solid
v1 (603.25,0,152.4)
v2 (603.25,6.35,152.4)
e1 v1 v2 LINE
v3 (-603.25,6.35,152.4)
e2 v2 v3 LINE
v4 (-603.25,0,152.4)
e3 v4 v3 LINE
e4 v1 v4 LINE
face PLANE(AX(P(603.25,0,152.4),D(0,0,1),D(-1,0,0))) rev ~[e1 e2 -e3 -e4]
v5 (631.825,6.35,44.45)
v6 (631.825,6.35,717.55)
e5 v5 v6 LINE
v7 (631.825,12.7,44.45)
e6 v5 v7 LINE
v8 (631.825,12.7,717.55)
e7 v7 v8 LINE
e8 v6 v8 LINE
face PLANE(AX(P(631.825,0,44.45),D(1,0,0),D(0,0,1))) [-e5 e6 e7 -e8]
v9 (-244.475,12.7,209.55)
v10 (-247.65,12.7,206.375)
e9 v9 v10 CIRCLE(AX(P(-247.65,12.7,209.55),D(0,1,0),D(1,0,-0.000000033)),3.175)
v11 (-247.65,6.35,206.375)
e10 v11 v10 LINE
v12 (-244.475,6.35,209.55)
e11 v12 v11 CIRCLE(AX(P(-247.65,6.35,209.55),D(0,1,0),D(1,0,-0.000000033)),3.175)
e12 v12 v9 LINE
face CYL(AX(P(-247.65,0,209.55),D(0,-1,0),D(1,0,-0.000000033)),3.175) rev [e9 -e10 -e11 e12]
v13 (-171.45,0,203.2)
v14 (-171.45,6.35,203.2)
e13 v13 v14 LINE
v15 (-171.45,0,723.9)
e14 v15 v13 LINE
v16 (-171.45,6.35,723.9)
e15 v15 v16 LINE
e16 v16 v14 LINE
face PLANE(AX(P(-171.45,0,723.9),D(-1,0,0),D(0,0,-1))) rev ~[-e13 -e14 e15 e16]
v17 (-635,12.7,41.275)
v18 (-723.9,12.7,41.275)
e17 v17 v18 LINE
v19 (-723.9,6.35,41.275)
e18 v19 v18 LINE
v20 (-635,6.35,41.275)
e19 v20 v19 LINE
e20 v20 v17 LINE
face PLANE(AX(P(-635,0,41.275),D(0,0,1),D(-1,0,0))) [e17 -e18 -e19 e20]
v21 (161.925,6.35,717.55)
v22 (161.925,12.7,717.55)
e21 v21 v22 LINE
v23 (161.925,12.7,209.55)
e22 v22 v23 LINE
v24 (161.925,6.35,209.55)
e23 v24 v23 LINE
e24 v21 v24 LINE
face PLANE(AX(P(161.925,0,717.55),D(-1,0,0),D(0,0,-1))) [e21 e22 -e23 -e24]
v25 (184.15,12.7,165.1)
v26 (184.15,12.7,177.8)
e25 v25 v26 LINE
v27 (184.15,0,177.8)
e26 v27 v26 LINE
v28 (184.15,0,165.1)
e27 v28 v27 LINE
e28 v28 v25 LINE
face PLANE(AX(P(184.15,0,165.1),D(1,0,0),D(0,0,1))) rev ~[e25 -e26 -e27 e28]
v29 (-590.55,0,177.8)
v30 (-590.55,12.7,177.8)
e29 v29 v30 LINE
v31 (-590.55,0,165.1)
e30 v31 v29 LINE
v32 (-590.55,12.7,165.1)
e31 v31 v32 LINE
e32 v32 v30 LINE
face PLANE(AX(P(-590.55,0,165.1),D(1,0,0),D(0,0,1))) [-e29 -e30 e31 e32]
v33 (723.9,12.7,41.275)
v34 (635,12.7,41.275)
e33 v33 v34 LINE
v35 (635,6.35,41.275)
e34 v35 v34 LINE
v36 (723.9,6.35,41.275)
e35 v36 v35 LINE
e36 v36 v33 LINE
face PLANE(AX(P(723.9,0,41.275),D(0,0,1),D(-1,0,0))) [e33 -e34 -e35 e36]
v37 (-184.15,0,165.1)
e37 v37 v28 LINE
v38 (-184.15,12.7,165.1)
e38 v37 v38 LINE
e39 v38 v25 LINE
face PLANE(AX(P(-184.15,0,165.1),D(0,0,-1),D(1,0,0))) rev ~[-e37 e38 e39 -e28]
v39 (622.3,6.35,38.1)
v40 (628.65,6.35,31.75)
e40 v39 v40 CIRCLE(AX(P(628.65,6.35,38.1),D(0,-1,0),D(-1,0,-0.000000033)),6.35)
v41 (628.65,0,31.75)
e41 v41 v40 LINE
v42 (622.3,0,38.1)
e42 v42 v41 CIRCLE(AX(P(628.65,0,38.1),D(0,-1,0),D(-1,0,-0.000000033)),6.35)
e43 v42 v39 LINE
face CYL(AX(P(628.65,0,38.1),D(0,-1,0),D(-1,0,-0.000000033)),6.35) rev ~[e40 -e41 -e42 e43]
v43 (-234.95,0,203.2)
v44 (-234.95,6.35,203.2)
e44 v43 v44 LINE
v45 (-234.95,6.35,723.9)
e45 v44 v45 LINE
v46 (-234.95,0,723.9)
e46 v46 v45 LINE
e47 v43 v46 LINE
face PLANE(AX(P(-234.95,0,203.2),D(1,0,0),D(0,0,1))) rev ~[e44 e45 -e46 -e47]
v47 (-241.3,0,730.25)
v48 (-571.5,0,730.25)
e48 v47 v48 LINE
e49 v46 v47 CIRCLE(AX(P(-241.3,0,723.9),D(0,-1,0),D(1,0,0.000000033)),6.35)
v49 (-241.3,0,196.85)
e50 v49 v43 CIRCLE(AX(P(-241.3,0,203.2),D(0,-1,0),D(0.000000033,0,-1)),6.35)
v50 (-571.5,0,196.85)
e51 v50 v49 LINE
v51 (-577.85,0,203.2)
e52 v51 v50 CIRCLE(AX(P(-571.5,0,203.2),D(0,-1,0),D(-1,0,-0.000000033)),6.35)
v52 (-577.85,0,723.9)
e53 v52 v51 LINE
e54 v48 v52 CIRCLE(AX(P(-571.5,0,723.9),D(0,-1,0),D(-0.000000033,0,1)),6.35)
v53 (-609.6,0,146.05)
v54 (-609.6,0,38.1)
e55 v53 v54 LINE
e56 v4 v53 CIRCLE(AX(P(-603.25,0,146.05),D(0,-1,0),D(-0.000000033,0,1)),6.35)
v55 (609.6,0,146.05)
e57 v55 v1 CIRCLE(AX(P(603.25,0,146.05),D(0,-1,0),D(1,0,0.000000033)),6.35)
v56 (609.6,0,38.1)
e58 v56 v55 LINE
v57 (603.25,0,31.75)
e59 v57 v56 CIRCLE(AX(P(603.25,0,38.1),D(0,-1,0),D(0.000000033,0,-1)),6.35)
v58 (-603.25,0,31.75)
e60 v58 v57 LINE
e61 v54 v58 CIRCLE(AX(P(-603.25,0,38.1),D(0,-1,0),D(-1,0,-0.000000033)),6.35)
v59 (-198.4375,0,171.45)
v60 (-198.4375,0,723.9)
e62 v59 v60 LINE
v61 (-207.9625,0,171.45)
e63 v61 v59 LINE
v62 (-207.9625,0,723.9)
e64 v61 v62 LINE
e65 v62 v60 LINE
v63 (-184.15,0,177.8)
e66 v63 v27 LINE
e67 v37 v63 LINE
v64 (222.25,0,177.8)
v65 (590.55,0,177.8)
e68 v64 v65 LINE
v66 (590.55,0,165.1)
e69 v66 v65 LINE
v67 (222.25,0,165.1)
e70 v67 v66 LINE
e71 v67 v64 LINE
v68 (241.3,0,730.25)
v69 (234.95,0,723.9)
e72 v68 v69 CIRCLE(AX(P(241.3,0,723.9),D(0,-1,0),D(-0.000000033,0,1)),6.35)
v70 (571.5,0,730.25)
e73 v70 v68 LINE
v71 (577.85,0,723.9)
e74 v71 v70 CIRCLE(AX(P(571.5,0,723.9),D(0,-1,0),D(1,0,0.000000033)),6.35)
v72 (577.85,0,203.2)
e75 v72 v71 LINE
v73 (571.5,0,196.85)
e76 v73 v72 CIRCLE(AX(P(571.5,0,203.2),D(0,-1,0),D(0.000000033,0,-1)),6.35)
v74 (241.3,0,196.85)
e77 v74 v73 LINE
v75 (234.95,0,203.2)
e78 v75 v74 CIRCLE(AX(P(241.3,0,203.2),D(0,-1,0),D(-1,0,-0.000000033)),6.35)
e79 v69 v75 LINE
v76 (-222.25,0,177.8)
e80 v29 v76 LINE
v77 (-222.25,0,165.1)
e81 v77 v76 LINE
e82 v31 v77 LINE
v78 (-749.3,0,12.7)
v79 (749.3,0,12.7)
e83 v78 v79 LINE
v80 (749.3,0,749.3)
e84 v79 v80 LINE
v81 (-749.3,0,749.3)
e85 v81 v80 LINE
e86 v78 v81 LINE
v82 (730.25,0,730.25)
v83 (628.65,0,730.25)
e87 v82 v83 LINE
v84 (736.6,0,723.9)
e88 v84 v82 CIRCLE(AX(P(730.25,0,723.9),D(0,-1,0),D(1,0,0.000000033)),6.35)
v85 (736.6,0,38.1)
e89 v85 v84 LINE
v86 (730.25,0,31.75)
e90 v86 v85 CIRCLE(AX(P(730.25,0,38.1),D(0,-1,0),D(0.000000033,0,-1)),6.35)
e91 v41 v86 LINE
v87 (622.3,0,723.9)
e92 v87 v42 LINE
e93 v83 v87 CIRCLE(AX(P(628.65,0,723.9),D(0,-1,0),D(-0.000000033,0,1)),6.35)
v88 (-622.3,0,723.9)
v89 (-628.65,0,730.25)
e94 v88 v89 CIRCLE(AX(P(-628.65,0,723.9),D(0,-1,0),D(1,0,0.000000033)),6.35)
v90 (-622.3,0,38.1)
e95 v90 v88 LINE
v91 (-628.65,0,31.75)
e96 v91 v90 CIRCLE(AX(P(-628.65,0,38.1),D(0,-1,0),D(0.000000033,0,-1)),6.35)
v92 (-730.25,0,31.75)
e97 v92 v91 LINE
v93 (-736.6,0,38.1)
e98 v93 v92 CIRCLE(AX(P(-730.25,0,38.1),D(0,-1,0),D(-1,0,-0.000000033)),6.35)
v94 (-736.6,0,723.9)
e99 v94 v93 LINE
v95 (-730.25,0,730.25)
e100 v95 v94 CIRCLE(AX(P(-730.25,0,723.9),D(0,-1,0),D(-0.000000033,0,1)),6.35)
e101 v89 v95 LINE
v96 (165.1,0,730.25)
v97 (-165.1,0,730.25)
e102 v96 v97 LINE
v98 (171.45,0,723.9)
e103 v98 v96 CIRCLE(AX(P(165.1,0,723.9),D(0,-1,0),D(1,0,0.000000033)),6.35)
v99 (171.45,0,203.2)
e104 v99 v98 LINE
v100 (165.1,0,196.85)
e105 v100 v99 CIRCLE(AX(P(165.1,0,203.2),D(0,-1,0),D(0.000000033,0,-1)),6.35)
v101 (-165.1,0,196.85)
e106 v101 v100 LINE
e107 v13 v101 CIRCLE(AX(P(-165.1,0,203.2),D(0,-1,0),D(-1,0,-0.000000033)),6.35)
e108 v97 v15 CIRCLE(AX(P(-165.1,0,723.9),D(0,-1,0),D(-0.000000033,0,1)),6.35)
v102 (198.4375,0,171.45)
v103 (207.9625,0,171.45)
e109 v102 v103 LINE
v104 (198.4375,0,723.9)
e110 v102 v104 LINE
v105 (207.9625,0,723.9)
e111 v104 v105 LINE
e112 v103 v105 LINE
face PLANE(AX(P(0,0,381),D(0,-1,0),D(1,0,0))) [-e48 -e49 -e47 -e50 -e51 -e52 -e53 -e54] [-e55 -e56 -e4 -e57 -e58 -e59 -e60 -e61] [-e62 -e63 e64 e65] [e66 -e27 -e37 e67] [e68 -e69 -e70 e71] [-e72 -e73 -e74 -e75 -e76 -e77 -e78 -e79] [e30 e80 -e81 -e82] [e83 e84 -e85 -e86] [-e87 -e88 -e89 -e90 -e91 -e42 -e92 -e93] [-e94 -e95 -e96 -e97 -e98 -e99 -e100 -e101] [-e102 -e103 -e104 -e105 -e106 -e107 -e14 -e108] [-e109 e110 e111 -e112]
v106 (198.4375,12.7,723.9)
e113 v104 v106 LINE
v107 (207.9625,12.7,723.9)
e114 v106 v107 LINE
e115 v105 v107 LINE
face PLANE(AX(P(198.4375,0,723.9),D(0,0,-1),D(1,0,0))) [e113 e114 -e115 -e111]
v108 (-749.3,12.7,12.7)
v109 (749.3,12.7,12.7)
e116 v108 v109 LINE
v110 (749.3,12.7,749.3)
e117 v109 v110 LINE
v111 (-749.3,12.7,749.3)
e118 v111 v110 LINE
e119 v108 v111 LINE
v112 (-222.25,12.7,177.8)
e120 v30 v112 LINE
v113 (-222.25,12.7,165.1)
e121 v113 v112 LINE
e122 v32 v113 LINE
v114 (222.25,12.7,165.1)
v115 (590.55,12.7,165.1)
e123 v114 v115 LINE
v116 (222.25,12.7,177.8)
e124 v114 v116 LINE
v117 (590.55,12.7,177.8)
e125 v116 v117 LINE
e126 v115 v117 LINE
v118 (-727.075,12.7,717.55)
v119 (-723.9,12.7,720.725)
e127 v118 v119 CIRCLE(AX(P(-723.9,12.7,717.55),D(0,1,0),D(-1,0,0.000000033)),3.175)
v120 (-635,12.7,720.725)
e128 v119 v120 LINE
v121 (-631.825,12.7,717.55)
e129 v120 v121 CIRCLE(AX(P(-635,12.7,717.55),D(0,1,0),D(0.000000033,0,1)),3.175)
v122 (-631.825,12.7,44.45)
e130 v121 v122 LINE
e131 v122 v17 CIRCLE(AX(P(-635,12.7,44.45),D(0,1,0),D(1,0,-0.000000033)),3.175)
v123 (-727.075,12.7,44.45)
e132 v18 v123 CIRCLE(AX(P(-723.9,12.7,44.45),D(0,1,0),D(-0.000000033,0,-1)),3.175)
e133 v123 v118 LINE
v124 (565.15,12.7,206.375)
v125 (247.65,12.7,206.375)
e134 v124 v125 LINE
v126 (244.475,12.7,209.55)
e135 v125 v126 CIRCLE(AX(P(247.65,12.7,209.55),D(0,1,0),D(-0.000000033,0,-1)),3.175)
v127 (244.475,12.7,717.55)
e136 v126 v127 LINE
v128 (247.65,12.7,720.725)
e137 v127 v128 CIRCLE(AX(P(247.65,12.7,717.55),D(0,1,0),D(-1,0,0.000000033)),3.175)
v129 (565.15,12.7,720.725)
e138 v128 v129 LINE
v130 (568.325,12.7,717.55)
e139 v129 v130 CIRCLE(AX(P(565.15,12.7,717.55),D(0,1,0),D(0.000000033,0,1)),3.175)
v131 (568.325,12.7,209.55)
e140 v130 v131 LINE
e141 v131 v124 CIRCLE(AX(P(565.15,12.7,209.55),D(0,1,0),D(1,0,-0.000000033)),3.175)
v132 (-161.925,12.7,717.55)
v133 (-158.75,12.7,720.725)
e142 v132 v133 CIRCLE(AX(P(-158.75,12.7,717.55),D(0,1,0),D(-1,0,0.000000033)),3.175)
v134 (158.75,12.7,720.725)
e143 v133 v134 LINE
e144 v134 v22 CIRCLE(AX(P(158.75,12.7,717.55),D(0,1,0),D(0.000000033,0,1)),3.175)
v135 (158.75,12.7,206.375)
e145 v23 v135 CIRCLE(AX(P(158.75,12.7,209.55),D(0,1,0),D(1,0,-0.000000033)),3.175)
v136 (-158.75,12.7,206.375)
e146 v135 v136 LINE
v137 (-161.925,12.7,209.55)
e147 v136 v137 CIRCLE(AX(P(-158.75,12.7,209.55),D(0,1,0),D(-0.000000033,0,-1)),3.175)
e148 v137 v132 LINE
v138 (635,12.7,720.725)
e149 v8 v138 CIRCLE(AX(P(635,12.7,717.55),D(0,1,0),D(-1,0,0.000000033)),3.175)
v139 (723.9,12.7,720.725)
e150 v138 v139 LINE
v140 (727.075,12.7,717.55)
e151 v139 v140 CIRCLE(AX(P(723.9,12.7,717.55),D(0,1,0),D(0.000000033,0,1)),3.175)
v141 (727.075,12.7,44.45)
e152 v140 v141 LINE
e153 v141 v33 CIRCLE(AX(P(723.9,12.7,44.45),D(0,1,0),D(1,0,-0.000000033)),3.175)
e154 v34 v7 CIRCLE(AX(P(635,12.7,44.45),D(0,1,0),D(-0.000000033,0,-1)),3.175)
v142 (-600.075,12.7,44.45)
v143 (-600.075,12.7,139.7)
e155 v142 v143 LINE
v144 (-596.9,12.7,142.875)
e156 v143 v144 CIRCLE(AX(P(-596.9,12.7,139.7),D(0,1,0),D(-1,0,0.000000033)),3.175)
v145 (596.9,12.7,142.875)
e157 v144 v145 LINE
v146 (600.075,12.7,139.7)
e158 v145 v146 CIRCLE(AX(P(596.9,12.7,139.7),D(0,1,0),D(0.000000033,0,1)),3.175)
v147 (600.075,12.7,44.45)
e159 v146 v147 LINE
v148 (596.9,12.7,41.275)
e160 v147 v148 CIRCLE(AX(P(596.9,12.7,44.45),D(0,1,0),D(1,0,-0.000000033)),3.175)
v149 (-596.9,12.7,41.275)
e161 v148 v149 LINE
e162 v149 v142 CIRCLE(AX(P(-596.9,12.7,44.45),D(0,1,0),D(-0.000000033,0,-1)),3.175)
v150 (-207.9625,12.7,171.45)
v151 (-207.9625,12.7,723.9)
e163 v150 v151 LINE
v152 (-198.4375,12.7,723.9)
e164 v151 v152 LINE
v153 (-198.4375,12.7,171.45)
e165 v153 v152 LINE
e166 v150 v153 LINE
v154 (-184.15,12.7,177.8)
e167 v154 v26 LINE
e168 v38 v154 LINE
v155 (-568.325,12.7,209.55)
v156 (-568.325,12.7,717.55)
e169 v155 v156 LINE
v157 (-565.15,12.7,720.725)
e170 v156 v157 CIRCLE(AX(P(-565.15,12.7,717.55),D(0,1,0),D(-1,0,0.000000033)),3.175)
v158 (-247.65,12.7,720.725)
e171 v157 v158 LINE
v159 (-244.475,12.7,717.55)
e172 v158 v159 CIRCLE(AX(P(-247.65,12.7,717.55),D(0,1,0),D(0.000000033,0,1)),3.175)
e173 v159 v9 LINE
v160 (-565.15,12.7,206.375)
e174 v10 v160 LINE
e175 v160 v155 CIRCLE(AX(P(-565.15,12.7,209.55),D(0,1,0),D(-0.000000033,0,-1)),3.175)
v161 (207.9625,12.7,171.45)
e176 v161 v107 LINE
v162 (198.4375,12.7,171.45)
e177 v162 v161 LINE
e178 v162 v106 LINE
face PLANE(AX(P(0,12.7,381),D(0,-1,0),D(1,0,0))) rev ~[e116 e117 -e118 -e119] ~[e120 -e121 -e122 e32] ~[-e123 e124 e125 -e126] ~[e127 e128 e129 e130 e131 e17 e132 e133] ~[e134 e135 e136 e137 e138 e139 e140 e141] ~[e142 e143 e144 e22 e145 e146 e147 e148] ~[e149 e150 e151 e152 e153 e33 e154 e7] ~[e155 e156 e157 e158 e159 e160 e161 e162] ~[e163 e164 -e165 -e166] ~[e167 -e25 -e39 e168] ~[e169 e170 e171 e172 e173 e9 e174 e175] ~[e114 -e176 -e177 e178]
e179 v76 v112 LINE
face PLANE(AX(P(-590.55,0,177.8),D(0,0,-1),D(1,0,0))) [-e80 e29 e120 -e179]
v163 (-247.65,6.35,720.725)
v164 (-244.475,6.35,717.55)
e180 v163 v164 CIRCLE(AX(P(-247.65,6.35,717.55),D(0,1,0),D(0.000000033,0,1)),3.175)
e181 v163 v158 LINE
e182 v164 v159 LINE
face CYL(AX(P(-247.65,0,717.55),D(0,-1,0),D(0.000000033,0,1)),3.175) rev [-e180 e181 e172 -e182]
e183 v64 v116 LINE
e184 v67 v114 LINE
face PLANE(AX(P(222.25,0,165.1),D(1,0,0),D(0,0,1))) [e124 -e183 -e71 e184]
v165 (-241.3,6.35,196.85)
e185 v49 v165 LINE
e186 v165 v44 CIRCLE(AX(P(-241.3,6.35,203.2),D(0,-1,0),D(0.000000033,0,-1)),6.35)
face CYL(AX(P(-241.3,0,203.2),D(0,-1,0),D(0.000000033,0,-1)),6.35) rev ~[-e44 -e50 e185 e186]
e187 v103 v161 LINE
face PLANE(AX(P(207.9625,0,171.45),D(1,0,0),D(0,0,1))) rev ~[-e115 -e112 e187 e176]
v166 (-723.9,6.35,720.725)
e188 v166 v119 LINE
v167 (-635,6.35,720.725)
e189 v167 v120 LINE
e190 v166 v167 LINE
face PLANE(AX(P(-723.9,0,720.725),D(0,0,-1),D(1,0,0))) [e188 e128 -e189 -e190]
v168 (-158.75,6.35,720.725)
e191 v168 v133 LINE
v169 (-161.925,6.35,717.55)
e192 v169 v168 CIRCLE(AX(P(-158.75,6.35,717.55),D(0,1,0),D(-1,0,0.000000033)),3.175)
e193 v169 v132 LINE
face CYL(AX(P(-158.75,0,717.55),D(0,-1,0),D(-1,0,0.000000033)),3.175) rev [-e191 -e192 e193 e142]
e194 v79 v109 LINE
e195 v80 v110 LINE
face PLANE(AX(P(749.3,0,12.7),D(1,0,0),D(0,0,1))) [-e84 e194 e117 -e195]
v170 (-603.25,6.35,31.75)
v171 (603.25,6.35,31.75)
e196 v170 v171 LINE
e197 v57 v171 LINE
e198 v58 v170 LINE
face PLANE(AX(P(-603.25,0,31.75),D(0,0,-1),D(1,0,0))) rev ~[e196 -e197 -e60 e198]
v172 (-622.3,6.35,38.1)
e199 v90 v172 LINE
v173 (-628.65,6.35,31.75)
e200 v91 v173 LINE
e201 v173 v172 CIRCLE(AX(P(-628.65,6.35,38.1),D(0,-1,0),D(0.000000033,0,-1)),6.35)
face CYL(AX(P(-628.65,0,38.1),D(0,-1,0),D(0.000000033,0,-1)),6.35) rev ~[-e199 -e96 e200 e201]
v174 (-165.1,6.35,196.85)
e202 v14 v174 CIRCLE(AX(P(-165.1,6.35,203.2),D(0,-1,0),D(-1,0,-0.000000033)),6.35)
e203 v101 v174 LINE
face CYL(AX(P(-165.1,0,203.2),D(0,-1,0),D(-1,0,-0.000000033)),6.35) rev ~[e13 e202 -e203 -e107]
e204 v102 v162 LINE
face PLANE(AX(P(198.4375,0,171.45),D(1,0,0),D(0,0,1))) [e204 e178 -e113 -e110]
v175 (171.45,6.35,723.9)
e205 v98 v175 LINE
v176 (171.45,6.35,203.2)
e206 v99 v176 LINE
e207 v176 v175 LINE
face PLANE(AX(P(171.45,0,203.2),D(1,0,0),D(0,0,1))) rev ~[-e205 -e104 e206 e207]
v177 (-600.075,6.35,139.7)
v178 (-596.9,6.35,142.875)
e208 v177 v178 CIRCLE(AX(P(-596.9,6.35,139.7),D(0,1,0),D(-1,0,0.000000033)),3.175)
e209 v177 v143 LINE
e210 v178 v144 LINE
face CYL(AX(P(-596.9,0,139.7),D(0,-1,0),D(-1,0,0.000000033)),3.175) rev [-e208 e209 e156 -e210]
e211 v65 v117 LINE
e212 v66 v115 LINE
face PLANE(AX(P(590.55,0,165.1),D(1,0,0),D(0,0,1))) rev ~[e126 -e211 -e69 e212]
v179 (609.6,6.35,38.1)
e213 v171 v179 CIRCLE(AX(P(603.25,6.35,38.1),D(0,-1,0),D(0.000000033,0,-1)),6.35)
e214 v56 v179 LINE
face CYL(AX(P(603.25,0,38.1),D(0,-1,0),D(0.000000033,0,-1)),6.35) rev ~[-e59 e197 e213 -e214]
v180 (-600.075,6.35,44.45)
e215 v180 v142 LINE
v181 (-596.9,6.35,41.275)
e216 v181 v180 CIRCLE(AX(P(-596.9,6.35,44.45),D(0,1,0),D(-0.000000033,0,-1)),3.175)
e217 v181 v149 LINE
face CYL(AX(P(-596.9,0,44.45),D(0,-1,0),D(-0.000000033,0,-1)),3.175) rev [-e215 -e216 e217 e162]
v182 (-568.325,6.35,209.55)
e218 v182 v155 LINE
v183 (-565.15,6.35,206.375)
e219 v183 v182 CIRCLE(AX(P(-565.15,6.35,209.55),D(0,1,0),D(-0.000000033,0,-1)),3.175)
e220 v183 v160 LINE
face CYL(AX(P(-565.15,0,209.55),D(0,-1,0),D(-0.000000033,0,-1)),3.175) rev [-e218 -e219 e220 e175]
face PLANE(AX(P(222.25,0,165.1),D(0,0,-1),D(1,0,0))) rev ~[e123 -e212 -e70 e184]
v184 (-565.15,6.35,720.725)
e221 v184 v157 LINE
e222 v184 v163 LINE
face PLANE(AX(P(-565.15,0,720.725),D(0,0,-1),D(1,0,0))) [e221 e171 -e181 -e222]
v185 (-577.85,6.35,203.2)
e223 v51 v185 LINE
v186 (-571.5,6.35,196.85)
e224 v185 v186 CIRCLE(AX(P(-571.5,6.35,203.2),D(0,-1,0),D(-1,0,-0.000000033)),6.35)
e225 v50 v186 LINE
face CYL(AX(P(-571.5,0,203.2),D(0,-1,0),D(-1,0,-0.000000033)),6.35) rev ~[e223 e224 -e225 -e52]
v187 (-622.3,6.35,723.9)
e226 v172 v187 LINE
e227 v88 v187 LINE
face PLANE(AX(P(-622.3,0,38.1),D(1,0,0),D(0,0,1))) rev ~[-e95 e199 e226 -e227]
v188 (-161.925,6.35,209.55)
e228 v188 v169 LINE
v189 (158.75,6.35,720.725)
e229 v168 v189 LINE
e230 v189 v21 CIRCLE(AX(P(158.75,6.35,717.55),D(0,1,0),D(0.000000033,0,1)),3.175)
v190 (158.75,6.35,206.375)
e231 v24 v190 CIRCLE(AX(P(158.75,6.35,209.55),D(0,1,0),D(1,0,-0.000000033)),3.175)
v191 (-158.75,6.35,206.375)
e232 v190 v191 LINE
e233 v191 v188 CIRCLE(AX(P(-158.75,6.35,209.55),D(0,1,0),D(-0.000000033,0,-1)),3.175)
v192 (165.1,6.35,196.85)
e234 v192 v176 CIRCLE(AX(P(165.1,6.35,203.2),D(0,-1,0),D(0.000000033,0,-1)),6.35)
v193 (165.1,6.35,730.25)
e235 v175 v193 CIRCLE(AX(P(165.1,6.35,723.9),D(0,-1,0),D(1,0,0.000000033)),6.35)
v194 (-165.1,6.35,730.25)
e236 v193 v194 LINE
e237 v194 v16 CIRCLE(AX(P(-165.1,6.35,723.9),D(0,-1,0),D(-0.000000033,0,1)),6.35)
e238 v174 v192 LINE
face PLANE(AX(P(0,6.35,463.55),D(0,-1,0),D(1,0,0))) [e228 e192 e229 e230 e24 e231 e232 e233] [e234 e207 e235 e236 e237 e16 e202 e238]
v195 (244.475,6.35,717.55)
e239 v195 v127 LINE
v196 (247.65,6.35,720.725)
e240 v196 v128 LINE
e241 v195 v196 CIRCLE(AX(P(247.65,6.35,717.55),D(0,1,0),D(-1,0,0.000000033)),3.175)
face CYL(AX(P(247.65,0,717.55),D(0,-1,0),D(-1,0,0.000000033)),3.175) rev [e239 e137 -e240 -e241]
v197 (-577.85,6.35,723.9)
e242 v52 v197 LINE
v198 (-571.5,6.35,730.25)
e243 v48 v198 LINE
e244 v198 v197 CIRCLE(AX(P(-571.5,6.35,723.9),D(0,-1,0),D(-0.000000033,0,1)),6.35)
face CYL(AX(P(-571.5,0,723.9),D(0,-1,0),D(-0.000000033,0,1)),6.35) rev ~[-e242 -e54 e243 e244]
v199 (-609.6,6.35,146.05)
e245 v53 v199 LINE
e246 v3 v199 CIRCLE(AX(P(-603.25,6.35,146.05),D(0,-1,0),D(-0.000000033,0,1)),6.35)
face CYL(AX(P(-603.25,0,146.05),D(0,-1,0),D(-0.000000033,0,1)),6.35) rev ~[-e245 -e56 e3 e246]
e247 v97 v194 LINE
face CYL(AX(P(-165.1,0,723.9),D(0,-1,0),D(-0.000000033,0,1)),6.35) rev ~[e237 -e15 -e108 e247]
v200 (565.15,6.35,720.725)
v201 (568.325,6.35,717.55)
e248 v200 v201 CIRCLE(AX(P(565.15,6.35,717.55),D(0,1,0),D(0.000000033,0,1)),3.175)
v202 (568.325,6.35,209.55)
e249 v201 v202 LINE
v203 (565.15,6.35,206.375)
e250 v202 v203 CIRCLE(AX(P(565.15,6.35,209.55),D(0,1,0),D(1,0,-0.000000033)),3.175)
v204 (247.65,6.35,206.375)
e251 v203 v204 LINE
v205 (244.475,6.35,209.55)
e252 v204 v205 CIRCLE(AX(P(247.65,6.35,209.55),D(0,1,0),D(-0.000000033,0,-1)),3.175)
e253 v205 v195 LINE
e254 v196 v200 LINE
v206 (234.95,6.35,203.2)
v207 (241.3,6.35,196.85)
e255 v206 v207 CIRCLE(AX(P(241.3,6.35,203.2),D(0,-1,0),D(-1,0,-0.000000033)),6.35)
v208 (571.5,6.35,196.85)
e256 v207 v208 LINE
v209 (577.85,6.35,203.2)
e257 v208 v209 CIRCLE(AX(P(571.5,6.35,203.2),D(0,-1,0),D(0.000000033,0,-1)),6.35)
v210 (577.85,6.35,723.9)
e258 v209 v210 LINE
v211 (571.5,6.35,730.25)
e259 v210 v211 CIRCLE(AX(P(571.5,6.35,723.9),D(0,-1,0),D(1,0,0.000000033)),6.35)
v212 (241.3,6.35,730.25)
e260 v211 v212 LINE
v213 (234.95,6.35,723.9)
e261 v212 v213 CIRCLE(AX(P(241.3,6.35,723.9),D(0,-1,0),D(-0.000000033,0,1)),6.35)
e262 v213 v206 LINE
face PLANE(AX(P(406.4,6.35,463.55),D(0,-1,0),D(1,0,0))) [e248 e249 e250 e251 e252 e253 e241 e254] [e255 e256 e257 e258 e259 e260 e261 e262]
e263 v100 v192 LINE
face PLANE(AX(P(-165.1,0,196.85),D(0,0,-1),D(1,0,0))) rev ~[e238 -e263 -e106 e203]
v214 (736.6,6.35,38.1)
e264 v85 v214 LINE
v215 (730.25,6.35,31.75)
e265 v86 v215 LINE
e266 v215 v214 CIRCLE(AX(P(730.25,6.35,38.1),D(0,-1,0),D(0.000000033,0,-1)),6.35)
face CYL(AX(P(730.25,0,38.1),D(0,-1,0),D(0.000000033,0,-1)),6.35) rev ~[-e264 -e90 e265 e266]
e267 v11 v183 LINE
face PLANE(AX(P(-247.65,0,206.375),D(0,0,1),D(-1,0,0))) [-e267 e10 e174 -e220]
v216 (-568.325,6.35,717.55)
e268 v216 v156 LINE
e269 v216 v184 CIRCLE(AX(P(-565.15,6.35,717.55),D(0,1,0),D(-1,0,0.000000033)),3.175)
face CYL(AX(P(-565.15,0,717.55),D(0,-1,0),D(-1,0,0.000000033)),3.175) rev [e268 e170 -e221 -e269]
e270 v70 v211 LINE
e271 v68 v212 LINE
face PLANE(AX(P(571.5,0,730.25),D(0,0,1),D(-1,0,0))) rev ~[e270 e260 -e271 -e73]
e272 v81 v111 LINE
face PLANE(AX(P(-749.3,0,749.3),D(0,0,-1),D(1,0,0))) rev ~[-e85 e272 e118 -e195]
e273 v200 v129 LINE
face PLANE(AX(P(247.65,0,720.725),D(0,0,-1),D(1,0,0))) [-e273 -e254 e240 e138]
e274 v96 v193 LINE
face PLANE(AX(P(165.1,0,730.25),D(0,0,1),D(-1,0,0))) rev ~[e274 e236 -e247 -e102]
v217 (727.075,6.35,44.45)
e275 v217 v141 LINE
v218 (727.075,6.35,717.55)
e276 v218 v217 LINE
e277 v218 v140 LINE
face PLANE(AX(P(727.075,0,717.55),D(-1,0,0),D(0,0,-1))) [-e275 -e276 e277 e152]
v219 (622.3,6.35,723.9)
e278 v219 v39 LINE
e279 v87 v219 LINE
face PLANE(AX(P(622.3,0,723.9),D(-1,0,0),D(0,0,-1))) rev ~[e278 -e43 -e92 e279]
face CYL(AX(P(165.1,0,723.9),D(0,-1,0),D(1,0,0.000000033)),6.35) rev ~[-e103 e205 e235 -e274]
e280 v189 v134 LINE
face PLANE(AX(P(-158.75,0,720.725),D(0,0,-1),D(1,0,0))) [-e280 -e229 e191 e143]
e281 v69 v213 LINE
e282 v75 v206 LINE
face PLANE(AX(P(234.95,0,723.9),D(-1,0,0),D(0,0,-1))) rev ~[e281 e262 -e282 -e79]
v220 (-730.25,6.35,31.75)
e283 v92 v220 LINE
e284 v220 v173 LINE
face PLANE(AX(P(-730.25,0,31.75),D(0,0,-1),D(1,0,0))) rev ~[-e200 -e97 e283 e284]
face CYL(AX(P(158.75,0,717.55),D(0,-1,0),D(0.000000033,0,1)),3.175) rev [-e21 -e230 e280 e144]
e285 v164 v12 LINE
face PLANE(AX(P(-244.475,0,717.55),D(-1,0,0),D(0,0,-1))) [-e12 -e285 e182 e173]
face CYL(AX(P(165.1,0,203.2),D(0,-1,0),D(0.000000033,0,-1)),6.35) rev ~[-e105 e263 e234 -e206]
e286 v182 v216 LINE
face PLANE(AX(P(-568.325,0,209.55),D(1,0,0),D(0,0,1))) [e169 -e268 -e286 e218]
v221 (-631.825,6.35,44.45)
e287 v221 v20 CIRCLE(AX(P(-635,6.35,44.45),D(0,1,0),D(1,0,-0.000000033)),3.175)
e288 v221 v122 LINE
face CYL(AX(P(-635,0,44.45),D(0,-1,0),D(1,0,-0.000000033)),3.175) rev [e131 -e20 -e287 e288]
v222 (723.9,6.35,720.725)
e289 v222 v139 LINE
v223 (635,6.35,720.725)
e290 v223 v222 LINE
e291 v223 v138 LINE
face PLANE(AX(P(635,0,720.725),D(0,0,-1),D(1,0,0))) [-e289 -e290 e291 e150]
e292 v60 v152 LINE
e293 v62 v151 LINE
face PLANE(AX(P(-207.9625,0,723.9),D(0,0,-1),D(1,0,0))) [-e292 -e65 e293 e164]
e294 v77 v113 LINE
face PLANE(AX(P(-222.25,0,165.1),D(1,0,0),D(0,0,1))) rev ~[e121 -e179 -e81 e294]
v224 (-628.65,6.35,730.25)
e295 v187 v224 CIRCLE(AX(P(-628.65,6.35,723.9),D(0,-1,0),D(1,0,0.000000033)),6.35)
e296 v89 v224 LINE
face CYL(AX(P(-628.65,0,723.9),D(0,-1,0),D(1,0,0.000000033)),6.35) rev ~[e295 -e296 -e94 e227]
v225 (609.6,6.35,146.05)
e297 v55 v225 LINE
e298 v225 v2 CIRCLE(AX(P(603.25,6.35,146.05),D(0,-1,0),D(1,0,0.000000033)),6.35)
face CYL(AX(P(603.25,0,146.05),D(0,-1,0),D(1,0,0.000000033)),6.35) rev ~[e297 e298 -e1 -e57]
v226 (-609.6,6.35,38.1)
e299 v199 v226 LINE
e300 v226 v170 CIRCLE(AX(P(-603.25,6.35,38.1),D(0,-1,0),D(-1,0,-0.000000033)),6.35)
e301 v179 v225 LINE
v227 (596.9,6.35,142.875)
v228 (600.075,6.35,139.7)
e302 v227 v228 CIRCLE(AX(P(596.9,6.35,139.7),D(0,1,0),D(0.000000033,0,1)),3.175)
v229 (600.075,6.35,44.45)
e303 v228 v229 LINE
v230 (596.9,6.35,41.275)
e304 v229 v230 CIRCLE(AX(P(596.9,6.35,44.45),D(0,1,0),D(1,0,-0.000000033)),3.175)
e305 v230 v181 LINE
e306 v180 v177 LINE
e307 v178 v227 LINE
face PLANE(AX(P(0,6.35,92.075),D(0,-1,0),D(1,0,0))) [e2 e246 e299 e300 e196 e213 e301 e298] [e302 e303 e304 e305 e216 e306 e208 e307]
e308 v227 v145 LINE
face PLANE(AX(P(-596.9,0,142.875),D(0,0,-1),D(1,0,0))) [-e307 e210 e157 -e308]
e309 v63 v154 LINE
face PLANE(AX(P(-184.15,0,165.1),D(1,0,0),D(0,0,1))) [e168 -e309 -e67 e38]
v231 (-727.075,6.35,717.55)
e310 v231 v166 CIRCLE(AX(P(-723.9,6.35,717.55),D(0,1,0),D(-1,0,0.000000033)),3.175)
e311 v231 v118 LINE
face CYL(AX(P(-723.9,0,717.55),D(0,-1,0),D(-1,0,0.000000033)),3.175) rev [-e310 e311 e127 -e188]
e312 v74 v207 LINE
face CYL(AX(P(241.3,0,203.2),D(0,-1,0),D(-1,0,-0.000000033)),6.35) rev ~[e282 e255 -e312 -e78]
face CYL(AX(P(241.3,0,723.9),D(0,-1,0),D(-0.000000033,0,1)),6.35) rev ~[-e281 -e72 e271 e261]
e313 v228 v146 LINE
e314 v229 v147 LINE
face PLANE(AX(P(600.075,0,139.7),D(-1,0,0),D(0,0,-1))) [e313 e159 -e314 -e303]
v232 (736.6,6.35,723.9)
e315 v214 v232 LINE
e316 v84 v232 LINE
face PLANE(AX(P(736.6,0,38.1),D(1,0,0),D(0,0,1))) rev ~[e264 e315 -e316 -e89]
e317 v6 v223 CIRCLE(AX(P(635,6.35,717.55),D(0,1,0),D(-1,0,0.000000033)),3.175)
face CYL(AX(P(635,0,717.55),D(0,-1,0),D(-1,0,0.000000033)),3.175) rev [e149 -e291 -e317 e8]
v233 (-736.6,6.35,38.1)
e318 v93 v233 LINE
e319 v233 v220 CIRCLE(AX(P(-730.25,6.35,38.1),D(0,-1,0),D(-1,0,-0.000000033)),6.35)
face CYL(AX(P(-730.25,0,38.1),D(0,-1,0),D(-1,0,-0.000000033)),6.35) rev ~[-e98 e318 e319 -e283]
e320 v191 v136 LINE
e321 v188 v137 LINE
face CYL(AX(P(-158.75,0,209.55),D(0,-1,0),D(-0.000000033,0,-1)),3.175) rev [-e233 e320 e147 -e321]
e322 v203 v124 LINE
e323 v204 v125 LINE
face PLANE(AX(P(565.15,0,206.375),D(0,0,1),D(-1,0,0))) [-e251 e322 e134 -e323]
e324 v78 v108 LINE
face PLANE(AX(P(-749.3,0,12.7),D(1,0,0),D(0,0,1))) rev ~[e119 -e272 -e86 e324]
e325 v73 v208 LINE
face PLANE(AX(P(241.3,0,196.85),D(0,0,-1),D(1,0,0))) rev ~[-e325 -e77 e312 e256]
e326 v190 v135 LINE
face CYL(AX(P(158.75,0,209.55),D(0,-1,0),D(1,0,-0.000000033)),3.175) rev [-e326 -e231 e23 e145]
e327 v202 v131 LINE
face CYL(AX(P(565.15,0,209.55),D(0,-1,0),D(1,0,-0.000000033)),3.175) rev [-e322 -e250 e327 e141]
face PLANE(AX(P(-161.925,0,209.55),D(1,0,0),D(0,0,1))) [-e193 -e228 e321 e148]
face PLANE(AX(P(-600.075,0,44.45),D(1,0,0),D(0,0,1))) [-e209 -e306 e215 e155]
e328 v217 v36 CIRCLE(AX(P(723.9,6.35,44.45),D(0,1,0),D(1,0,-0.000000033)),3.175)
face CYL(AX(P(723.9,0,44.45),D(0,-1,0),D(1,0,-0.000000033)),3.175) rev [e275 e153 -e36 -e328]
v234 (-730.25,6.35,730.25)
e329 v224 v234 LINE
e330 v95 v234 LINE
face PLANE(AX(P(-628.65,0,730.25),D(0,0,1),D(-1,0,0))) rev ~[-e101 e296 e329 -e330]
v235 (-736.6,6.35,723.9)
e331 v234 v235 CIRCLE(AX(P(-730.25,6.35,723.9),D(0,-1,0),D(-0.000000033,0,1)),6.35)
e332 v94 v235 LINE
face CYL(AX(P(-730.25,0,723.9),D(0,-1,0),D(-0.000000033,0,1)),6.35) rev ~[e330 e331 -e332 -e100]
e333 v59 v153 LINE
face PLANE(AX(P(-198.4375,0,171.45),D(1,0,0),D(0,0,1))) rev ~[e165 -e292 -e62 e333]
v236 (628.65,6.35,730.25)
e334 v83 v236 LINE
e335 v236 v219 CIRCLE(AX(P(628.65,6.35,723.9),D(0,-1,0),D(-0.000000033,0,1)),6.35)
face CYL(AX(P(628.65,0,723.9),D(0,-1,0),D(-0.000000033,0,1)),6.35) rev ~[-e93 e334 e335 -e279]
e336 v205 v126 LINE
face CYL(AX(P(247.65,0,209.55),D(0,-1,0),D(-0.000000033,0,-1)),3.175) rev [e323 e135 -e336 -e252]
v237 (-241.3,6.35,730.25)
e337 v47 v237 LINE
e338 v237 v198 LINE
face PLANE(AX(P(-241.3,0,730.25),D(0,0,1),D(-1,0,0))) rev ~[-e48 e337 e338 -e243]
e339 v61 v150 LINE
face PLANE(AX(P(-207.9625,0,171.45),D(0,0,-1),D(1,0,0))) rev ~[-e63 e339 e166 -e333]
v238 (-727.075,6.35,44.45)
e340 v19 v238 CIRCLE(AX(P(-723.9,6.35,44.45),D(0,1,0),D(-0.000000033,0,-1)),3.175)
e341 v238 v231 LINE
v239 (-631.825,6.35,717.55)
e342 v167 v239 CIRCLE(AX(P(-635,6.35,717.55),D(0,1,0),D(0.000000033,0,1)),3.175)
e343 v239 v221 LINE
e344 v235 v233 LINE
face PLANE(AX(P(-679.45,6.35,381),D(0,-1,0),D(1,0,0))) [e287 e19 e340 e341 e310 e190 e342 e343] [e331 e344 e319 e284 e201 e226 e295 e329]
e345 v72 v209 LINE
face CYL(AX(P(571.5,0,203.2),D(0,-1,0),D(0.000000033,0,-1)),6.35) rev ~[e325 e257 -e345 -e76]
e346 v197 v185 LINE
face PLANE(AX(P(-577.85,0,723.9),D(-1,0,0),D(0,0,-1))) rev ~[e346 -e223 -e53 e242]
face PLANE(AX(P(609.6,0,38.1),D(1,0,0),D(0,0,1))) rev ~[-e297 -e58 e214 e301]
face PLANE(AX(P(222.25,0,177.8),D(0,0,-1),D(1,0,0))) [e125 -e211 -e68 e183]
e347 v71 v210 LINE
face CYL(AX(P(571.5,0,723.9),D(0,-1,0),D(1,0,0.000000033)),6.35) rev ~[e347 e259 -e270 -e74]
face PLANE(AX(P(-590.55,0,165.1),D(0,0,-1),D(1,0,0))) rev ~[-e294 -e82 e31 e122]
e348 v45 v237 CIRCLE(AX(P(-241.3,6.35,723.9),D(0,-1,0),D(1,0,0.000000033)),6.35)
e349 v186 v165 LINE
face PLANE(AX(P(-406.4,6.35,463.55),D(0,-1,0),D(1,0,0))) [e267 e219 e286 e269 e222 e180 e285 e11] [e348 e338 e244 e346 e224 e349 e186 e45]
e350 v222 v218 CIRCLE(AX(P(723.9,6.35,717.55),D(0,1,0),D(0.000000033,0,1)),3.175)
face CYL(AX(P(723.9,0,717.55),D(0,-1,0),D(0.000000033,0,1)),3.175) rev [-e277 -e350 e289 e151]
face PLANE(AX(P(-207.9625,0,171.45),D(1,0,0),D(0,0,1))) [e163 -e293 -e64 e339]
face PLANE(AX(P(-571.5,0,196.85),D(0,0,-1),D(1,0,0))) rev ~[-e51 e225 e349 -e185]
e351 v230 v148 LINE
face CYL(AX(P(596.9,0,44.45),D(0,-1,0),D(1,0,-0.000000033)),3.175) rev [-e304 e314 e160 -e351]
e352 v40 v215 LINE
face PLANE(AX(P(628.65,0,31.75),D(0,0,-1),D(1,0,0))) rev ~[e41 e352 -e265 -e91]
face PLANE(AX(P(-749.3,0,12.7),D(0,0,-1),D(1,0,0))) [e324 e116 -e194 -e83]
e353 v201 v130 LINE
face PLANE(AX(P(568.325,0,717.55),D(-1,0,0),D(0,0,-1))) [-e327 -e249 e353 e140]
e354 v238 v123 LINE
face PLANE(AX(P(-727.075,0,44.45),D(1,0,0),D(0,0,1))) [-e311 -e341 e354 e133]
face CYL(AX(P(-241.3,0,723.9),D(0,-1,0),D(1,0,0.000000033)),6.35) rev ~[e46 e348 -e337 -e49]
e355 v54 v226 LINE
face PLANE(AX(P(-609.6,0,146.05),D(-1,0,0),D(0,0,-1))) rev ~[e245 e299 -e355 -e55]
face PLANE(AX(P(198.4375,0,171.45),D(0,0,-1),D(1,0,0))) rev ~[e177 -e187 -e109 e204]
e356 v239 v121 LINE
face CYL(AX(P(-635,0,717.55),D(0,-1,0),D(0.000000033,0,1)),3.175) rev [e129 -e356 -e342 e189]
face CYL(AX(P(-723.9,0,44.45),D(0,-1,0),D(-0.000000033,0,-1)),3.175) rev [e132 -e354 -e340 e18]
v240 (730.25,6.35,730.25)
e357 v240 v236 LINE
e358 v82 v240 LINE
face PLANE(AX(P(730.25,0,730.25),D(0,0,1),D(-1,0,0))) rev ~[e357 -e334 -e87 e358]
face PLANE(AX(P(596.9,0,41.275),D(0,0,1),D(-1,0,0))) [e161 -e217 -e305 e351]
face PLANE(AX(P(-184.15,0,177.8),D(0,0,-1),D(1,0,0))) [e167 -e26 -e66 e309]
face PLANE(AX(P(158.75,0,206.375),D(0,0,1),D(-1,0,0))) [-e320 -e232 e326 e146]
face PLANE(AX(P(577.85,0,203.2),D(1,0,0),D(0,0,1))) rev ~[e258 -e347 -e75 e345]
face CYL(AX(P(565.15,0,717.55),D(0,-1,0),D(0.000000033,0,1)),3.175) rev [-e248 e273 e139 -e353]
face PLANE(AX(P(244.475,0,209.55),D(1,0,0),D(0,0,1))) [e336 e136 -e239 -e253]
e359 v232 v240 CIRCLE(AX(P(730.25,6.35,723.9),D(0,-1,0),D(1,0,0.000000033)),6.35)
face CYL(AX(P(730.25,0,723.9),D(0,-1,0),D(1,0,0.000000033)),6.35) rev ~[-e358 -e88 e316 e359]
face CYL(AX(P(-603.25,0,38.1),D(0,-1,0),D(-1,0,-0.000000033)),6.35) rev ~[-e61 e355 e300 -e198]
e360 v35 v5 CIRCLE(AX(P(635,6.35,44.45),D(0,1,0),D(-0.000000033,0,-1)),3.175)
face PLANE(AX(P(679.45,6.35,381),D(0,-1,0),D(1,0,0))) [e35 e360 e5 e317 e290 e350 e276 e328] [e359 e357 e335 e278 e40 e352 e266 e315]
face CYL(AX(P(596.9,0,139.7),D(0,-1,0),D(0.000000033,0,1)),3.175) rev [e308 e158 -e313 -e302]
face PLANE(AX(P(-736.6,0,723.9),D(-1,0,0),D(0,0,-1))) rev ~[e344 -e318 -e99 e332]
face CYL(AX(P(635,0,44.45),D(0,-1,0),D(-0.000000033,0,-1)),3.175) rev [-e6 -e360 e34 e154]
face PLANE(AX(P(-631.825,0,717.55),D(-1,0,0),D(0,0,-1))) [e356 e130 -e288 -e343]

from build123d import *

# Parameters (mm, degrees)
F0_W     = 1498.6
F0_H     = 736.6
F0_W_2   = 368.3
F0_H_2   = 12.7
F0_W_3   = 9.525
F0_H_3   = 552.45
F1_DEPTH = 12.7
F2_DEPTH = 6.35


with BuildPart() as f1:
    # F0 (on Front) → F1 (new body)
    with BuildSketch(Plane.XZ):
        with Locations((0, 381)):
            Rectangle(F0_W, F0_H)
        with Locations((-406.4, 171.45)):
            Rectangle(F0_W_2, F0_H_2, mode=Mode.SUBTRACT)
        with BuildLine():
            Line((-609.6, 38.1), (-609.6, 146.05))
            ThreePointArc((-609.6, 146.05), (-607.740128, 150.540128), (-603.25, 152.4))
            Line((-603.25, 152.4), (603.25, 152.4))
            ThreePointArc((603.25, 152.4), (607.740128, 150.540128), (609.6, 146.05))
            Line((609.6, 146.05), (609.6, 38.1))
            ThreePointArc((609.6, 38.1), (607.740128, 33.609872), (603.25, 31.75))
            Line((603.25, 31.75), (-603.25, 31.75))
            ThreePointArc((-603.25, 31.75), (-607.740128, 33.609872), (-609.6, 38.1))
        make_face(mode=Mode.SUBTRACT)
        with Locations((0, 171.45)):
            Rectangle(F0_W_2, F0_H_2, mode=Mode.SUBTRACT)
        with Locations((406.4, 171.45)):
            Rectangle(F0_W_2, F0_H_2, mode=Mode.SUBTRACT)
        with BuildLine():
            ThreePointArc((-628.65, 730.25), (-624.159872, 728.390128), (-622.3, 723.9))
            Line((-622.3, 723.9), (-622.3, 38.1))
            ThreePointArc((-622.3, 38.1), (-624.159872, 33.609872), (-628.65, 31.75))
            Line((-628.65, 31.75), (-730.25, 31.75))
            ThreePointArc((-730.25, 31.75), (-734.740128, 33.609872), (-736.6, 38.1))
            Line((-736.6, 38.1), (-736.6, 723.9))
            ThreePointArc((-736.6, 723.9), (-734.740128, 728.390128), (-730.25, 730.25))
            Line((-730.25, 730.25), (-628.65, 730.25))
        make_face(mode=Mode.SUBTRACT)
        with BuildLine():
            Line((-577.85, 203.2), (-577.85, 723.9))
            ThreePointArc((-577.85, 723.9), (-575.990128, 728.390128), (-571.5, 730.25))
            Line((-571.5, 730.25), (-241.3, 730.25))
            ThreePointArc((-241.3, 730.25), (-236.809872, 728.390128), (-234.95, 723.9))
            Line((-234.95, 723.9), (-234.95, 203.2))
            ThreePointArc((-234.95, 203.2), (-236.809872, 198.709872), (-241.3, 196.85))
            Line((-241.3, 196.85), (-571.5, 196.85))
            ThreePointArc((-571.5, 196.85), (-575.990128, 198.709872), (-577.85, 203.2))
        make_face(mode=Mode.SUBTRACT)
        with Locations((-203.2, 447.675)):
            Rectangle(F0_W_3, F0_H_3, mode=Mode.SUBTRACT)
        with BuildLine():
            Line((-171.45, 203.2), (-171.45, 723.9))
            ThreePointArc((-171.45, 723.9), (-169.590128, 728.390128), (-165.1, 730.25))
            Line((-165.1, 730.25), (165.1, 730.25))
            ThreePointArc((165.1, 730.25), (169.590128, 728.390128), (171.45, 723.9))
            Line((171.45, 723.9), (171.45, 203.2))
            ThreePointArc((171.45, 203.2), (169.590128, 198.709872), (165.1, 196.85))
            Line((165.1, 196.85), (-165.1, 196.85))
            ThreePointArc((-165.1, 196.85), (-169.590128, 198.709872), (-171.45, 203.2))
        make_face(mode=Mode.SUBTRACT)
        with Locations((203.2, 447.675)):
            Rectangle(F0_W_3, F0_H_3, mode=Mode.SUBTRACT)
        with BuildLine():
            Line((234.95, 203.2), (234.95, 723.9))
            ThreePointArc((234.95, 723.9), (236.809872, 728.390128), (241.3, 730.25))
            Line((241.3, 730.25), (571.5, 730.25))
            ThreePointArc((571.5, 730.25), (575.990128, 728.390128), (577.85, 723.9))
            Line((577.85, 723.9), (577.85, 203.2))
            ThreePointArc((577.85, 203.2), (575.990128, 198.709872), (571.5, 196.85))
            Line((571.5, 196.85), (241.3, 196.85))
            ThreePointArc((241.3, 196.85), (236.809872, 198.709872), (234.95, 203.2))
        make_face(mode=Mode.SUBTRACT)
        with BuildLine():
            Line((622.3, 38.1), (622.3, 723.9))
            ThreePointArc((622.3, 723.9), (624.159872, 728.390128), (628.65, 730.25))
            Line((628.65, 730.25), (730.25, 730.25))
            ThreePointArc((730.25, 730.25), (734.740128, 728.390128), (736.6, 723.9))
            Line((736.6, 723.9), (736.6, 38.1))
            ThreePointArc((736.6, 38.1), (734.740128, 33.609872), (730.25, 31.75))
            Line((730.25, 31.75), (628.65, 31.75))
            ThreePointArc((628.65, 31.75), (624.159872, 33.609872), (622.3, 38.1))
        make_face(mode=Mode.SUBTRACT)
        with BuildLine():
            Line((-622.3, 38.1), (-622.3, 723.9))
            ThreePointArc((-622.3, 723.9), (-624.159872, 728.390128), (-628.65, 730.25))
            Line((-628.65, 730.25), (-730.25, 730.25))
            ThreePointArc((-730.25, 730.25), (-734.740128, 728.390128), (-736.6, 723.9))
            Line((-736.6, 723.9), (-736.6, 38.1))
            ThreePointArc((-736.6, 38.1), (-734.740128, 33.609872), (-730.25, 31.75))
            Line((-730.25, 31.75), (-628.65, 31.75))
            ThreePointArc((-628.65, 31.75), (-624.159872, 33.609872), (-622.3, 38.1))
        make_face()
        with BuildLine():
            ThreePointArc((-635, 720.725), (-632.754936, 719.795064), (-631.825, 717.55))
            Line((-631.825, 717.55), (-631.825, 44.45))
            ThreePointArc((-631.825, 44.45), (-632.754936, 42.204936), (-635, 41.275))
            Line((-635, 41.275), (-723.9, 41.275))
            ThreePointArc((-723.9, 41.275), (-726.145064, 42.204936), (-727.075, 44.45))
            Line((-727.075, 44.45), (-727.075, 717.55))
            ThreePointArc((-727.075, 717.55), (-726.145064, 719.795064), (-723.9, 720.725))
            Line((-723.9, 720.725), (-635, 720.725))
        make_face(mode=Mode.SUBTRACT)
        with BuildLine():
            ThreePointArc((-571.5, 730.25), (-575.990128, 728.390128), (-577.85, 723.9))
            Line((-577.85, 723.9), (-577.85, 203.2))
            ThreePointArc((-577.85, 203.2), (-575.990128, 198.709872), (-571.5, 196.85))
            Line((-571.5, 196.85), (-241.3, 196.85))
            ThreePointArc((-241.3, 196.85), (-236.809872, 198.709872), (-234.95, 203.2))
            Line((-234.95, 203.2), (-234.95, 723.9))
            ThreePointArc((-234.95, 723.9), (-236.809872, 728.390128), (-241.3, 730.25))
            Line((-241.3, 730.25), (-571.5, 730.25))
        make_face()
        with BuildLine():
            Line((-568.325, 209.55), (-568.325, 717.55))
            ThreePointArc((-568.325, 717.55), (-567.395064, 719.795064), (-565.15, 720.725))
            Line((-565.15, 720.725), (-247.65, 720.725))
            ThreePointArc((-247.65, 720.725), (-245.404936, 719.795064), (-244.475, 717.55))
            Line((-244.475, 717.55), (-244.475, 209.55))
            ThreePointArc((-244.475, 209.55), (-245.404936, 207.304936), (-247.65, 206.375))
            Line((-247.65, 206.375), (-565.15, 206.375))
            ThreePointArc((-565.15, 206.375), (-567.395064, 207.304936), (-568.325, 209.55))
        make_face(mode=Mode.SUBTRACT)
        with BuildLine():
            ThreePointArc((-165.1, 730.25), (-169.590128, 728.390128), (-171.45, 723.9))
            Line((-171.45, 723.9), (-171.45, 203.2))
            ThreePointArc((-171.45, 203.2), (-169.590128, 198.709872), (-165.1, 196.85))
            Line((-165.1, 196.85), (165.1, 196.85))
            ThreePointArc((165.1, 196.85), (169.590128, 198.709872), (171.45, 203.2))
            Line((171.45, 203.2), (171.45, 723.9))
            ThreePointArc((171.45, 723.9), (169.590128, 728.390128), (165.1, 730.25))
            Line((165.1, 730.25), (-165.1, 730.25))
        make_face()
        with BuildLine():
            ThreePointArc((-161.925, 717.55), (-160.995064, 719.795064), (-158.75, 720.725))
            Line((-158.75, 720.725), (158.75, 720.725))
            ThreePointArc((158.75, 720.725), (160.995064, 719.795064), (161.925, 717.55))
            Line((161.925, 717.55), (161.925, 209.55))
            ThreePointArc((161.925, 209.55), (160.995064, 207.304936), (158.75, 206.375))
            Line((158.75, 206.375), (-158.75, 206.375))
            ThreePointArc((-158.75, 206.375), (-160.995064, 207.304936), (-161.925, 209.55))
            Line((-161.925, 209.55), (-161.925, 717.55))
        make_face(mode=Mode.SUBTRACT)
        with BuildLine():
            ThreePointArc((241.3, 730.25), (236.809872, 728.390128), (234.95, 723.9))
            Line((234.95, 723.9), (234.95, 203.2))
            ThreePointArc((234.95, 203.2), (236.809872, 198.709872), (241.3, 196.85))
            Line((241.3, 196.85), (571.5, 196.85))
            ThreePointArc((571.5, 196.85), (575.990128, 198.709872), (577.85, 203.2))
            Line((577.85, 203.2), (577.85, 723.9))
            ThreePointArc((577.85, 723.9), (575.990128, 728.390128), (571.5, 730.25))
            Line((571.5, 730.25), (241.3, 730.25))
        make_face()
        with BuildLine():
            Line((244.475, 209.55), (244.475, 717.55))
            ThreePointArc((244.475, 717.55), (245.404936, 719.795064), (247.65, 720.725))
            Line((247.65, 720.725), (565.15, 720.725))
            ThreePointArc((565.15, 720.725), (567.395064, 719.795064), (568.325, 717.55))
            Line((568.325, 717.55), (568.325, 209.55))
            ThreePointArc((568.325, 209.55), (567.395064, 207.304936), (565.15, 206.375))
            Line((565.15, 206.375), (247.65, 206.375))
            ThreePointArc((247.65, 206.375), (245.404936, 207.304936), (244.475, 209.55))
        make_face(mode=Mode.SUBTRACT)
        with BuildLine():
            ThreePointArc((628.65, 730.25), (624.159872, 728.390128), (622.3, 723.9))
            Line((622.3, 723.9), (622.3, 38.1))
            ThreePointArc((622.3, 38.1), (624.159872, 33.609872), (628.65, 31.75))
            Line((628.65, 31.75), (730.25, 31.75))
            ThreePointArc((730.25, 31.75), (734.740128, 33.609872), (736.6, 38.1))
            Line((736.6, 38.1), (736.6, 723.9))
            ThreePointArc((736.6, 723.9), (734.740128, 728.390128), (730.25, 730.25))
            Line((730.25, 730.25), (628.65, 730.25))
        make_face()
        with BuildLine():
            ThreePointArc((635, 41.275), (632.754936, 42.204936), (631.825, 44.45))
            Line((631.825, 44.45), (631.825, 717.55))
            ThreePointArc((631.825, 717.55), (632.754936, 719.795064), (635, 720.725))
            Line((635, 720.725), (723.9, 720.725))
            ThreePointArc((723.9, 720.725), (726.145064, 719.795064), (727.075, 717.55))
            Line((727.075, 717.55), (727.075, 44.45))
            ThreePointArc((727.075, 44.45), (726.145064, 42.204936), (723.9, 41.275))
            Line((723.9, 41.275), (635, 41.275))
        make_face(mode=Mode.SUBTRACT)
        with BuildLine():
            ThreePointArc((-603.25, 152.4), (-607.740128, 150.540128), (-609.6, 146.05))
            Line((-609.6, 146.05), (-609.6, 38.1))
            ThreePointArc((-609.6, 38.1), (-607.740128, 33.609872), (-603.25, 31.75))
            Line((-603.25, 31.75), (603.25, 31.75))
            ThreePointArc((603.25, 31.75), (607.740128, 33.609872), (609.6, 38.1))
            Line((609.6, 38.1), (609.6, 146.05))
            ThreePointArc((609.6, 146.05), (607.740128, 150.540128), (603.25, 152.4))
            Line((603.25, 152.4), (-603.25, 152.4))
        make_face()
        with BuildLine():
            Line((-600.075, 44.45), (-600.075, 139.7))
            ThreePointArc((-600.075, 139.7), (-599.145064, 141.945064), (-596.9, 142.875))
            Line((-596.9, 142.875), (596.9, 142.875))
            ThreePointArc((596.9, 142.875), (599.145064, 141.945064), (600.075, 139.7))
            Line((600.075, 139.7), (600.075, 44.45))
            ThreePointArc((600.075, 44.45), (599.145064, 42.204936), (596.9, 41.275))
            Line((596.9, 41.275), (-596.9, 41.275))
            ThreePointArc((-596.9, 41.275), (-599.145064, 42.204936), (-600.075, 44.45))
        make_face(mode=Mode.SUBTRACT)
    extrude(amount=-F1_DEPTH)

    # F0 (on Front) → F2 (cut)
    with BuildSketch(Plane.XZ):
        with BuildLine():
            Line((-622.3, 38.1), (-622.3, 723.9))
            ThreePointArc((-622.3, 723.9), (-624.159872, 728.390128), (-628.65, 730.25))
            Line((-628.65, 730.25), (-730.25, 730.25))
            ThreePointArc((-730.25, 730.25), (-734.740128, 728.390128), (-736.6, 723.9))
            Line((-736.6, 723.9), (-736.6, 38.1))
            ThreePointArc((-736.6, 38.1), (-734.740128, 33.609872), (-730.25, 31.75))
            Line((-730.25, 31.75), (-628.65, 31.75))
            ThreePointArc((-628.65, 31.75), (-624.159872, 33.609872), (-622.3, 38.1))
        make_face()
        with BuildLine():
            ThreePointArc((-635, 720.725), (-632.754936, 719.795064), (-631.825, 717.55))
            Line((-631.825, 717.55), (-631.825, 44.45))
            ThreePointArc((-631.825, 44.45), (-632.754936, 42.204936), (-635, 41.275))
            Line((-635, 41.275), (-723.9, 41.275))
            ThreePointArc((-723.9, 41.275), (-726.145064, 42.204936), (-727.075, 44.45))
            Line((-727.075, 44.45), (-727.075, 717.55))
            ThreePointArc((-727.075, 717.55), (-726.145064, 719.795064), (-723.9, 720.725))
            Line((-723.9, 720.725), (-635, 720.725))
        make_face(mode=Mode.SUBTRACT)
        with BuildLine():
            ThreePointArc((-571.5, 730.25), (-575.990128, 728.390128), (-577.85, 723.9))
            Line((-577.85, 723.9), (-577.85, 203.2))
            ThreePointArc((-577.85, 203.2), (-575.990128, 198.709872), (-571.5, 196.85))
            Line((-571.5, 196.85), (-241.3, 196.85))
            ThreePointArc((-241.3, 196.85), (-236.809872, 198.709872), (-234.95, 203.2))
            Line((-234.95, 203.2), (-234.95, 723.9))
            ThreePointArc((-234.95, 723.9), (-236.809872, 728.390128), (-241.3, 730.25))
            Line((-241.3, 730.25), (-571.5, 730.25))
        make_face()
        with BuildLine():
            Line((-568.325, 209.55), (-568.325, 717.55))
            ThreePointArc((-568.325, 717.55), (-567.395064, 719.795064), (-565.15, 720.725))
            Line((-565.15, 720.725), (-247.65, 720.725))
            ThreePointArc((-247.65, 720.725), (-245.404936, 719.795064), (-244.475, 717.55))
            Line((-244.475, 717.55), (-244.475, 209.55))
            ThreePointArc((-244.475, 209.55), (-245.404936, 207.304936), (-247.65, 206.375))
            Line((-247.65, 206.375), (-565.15, 206.375))
            ThreePointArc((-565.15, 206.375), (-567.395064, 207.304936), (-568.325, 209.55))
        make_face(mode=Mode.SUBTRACT)
        with BuildLine():
            ThreePointArc((-165.1, 730.25), (-169.590128, 728.390128), (-171.45, 723.9))
            Line((-171.45, 723.9), (-171.45, 203.2))
            ThreePointArc((-171.45, 203.2), (-169.590128, 198.709872), (-165.1, 196.85))
            Line((-165.1, 196.85), (165.1, 196.85))
            ThreePointArc((165.1, 196.85), (169.590128, 198.709872), (171.45, 203.2))
            Line((171.45, 203.2), (171.45, 723.9))
            ThreePointArc((171.45, 723.9), (169.590128, 728.390128), (165.1, 730.25))
            Line((165.1, 730.25), (-165.1, 730.25))
        make_face()
        with BuildLine():
            ThreePointArc((-161.925, 717.55), (-160.995064, 719.795064), (-158.75, 720.725))
            Line((-158.75, 720.725), (158.75, 720.725))
            ThreePointArc((158.75, 720.725), (160.995064, 719.795064), (161.925, 717.55))
            Line((161.925, 717.55), (161.925, 209.55))
            ThreePointArc((161.925, 209.55), (160.995064, 207.304936), (158.75, 206.375))
            Line((158.75, 206.375), (-158.75, 206.375))
            ThreePointArc((-158.75, 206.375), (-160.995064, 207.304936), (-161.925, 209.55))
            Line((-161.925, 209.55), (-161.925, 717.55))
        make_face(mode=Mode.SUBTRACT)
        with BuildLine():
            ThreePointArc((241.3, 730.25), (236.809872, 728.390128), (234.95, 723.9))
            Line((234.95, 723.9), (234.95, 203.2))
            ThreePointArc((234.95, 203.2), (236.809872, 198.709872), (241.3, 196.85))
            Line((241.3, 196.85), (571.5, 196.85))
            ThreePointArc((571.5, 196.85), (575.990128, 198.709872), (577.85, 203.2))
            Line((577.85, 203.2), (577.85, 723.9))
            ThreePointArc((577.85, 723.9), (575.990128, 728.390128), (571.5, 730.25))
            Line((571.5, 730.25), (241.3, 730.25))
        make_face()
        with BuildLine():
            Line((244.475, 209.55), (244.475, 717.55))
            ThreePointArc((244.475, 717.55), (245.404936, 719.795064), (247.65, 720.725))
            Line((247.65, 720.725), (565.15, 720.725))
            ThreePointArc((565.15, 720.725), (567.395064, 719.795064), (568.325, 717.55))
            Line((568.325, 717.55), (568.325, 209.55))
            ThreePointArc((568.325, 209.55), (567.395064, 207.304936), (565.15, 206.375))
            Line((565.15, 206.375), (247.65, 206.375))
            ThreePointArc((247.65, 206.375), (245.404936, 207.304936), (244.475, 209.55))
        make_face(mode=Mode.SUBTRACT)
        with BuildLine():
            ThreePointArc((628.65, 730.25), (624.159872, 728.390128), (622.3, 723.9))
            Line((622.3, 723.9), (622.3, 38.1))
            ThreePointArc((622.3, 38.1), (624.159872, 33.609872), (628.65, 31.75))
            Line((628.65, 31.75), (730.25, 31.75))
            ThreePointArc((730.25, 31.75), (734.740128, 33.609872), (736.6, 38.1))
            Line((736.6, 38.1), (736.6, 723.9))
            ThreePointArc((736.6, 723.9), (734.740128, 728.390128), (730.25, 730.25))
            Line((730.25, 730.25), (628.65, 730.25))
        make_face()
        with BuildLine():
            ThreePointArc((635, 41.275), (632.754936, 42.204936), (631.825, 44.45))
            Line((631.825, 44.45), (631.825, 717.55))
            ThreePointArc((631.825, 717.55), (632.754936, 719.795064), (635, 720.725))
            Line((635, 720.725), (723.9, 720.725))
            ThreePointArc((723.9, 720.725), (726.145064, 719.795064), (727.075, 717.55))
            Line((727.075, 717.55), (727.075, 44.45))
            ThreePointArc((727.075, 44.45), (726.145064, 42.204936), (723.9, 41.275))
            Line((723.9, 41.275), (635, 41.275))
        make_face(mode=Mode.SUBTRACT)
        with BuildLine():
            ThreePointArc((-603.25, 152.4), (-607.740128, 150.540128), (-609.6, 146.05))
            Line((-609.6, 146.05), (-609.6, 38.1))
            ThreePointArc((-609.6, 38.1), (-607.740128, 33.609872), (-603.25, 31.75))
            Line((-603.25, 31.75), (603.25, 31.75))
            ThreePointArc((603.25, 31.75), (607.740128, 33.609872), (609.6, 38.1))
            Line((609.6, 38.1), (609.6, 146.05))
            ThreePointArc((609.6, 146.05), (607.740128, 150.540128), (603.25, 152.4))
            Line((603.25, 152.4), (-603.25, 152.4))
        make_face()
        with BuildLine():
            Line((-600.075, 44.45), (-600.075, 139.7))
            ThreePointArc((-600.075, 139.7), (-599.145064, 141.945064), (-596.9, 142.875))
            Line((-596.9, 142.875), (596.9, 142.875))
            ThreePointArc((596.9, 142.875), (599.145064, 141.945064), (600.075, 139.7))
            Line((600.075, 139.7), (600.075, 44.45))
            ThreePointArc((600.075, 44.45), (599.145064, 42.204936), (596.9, 41.275))
            Line((596.9, 41.275), (-596.9, 41.275))
            ThreePointArc((-596.9, 41.275), (-599.145064, 42.204936), (-600.075, 44.45))
        make_face(mode=Mode.SUBTRACT)
    extrude(amount=-F2_DEPTH, mode=Mode.SUBTRACT)


solid = f1.part
